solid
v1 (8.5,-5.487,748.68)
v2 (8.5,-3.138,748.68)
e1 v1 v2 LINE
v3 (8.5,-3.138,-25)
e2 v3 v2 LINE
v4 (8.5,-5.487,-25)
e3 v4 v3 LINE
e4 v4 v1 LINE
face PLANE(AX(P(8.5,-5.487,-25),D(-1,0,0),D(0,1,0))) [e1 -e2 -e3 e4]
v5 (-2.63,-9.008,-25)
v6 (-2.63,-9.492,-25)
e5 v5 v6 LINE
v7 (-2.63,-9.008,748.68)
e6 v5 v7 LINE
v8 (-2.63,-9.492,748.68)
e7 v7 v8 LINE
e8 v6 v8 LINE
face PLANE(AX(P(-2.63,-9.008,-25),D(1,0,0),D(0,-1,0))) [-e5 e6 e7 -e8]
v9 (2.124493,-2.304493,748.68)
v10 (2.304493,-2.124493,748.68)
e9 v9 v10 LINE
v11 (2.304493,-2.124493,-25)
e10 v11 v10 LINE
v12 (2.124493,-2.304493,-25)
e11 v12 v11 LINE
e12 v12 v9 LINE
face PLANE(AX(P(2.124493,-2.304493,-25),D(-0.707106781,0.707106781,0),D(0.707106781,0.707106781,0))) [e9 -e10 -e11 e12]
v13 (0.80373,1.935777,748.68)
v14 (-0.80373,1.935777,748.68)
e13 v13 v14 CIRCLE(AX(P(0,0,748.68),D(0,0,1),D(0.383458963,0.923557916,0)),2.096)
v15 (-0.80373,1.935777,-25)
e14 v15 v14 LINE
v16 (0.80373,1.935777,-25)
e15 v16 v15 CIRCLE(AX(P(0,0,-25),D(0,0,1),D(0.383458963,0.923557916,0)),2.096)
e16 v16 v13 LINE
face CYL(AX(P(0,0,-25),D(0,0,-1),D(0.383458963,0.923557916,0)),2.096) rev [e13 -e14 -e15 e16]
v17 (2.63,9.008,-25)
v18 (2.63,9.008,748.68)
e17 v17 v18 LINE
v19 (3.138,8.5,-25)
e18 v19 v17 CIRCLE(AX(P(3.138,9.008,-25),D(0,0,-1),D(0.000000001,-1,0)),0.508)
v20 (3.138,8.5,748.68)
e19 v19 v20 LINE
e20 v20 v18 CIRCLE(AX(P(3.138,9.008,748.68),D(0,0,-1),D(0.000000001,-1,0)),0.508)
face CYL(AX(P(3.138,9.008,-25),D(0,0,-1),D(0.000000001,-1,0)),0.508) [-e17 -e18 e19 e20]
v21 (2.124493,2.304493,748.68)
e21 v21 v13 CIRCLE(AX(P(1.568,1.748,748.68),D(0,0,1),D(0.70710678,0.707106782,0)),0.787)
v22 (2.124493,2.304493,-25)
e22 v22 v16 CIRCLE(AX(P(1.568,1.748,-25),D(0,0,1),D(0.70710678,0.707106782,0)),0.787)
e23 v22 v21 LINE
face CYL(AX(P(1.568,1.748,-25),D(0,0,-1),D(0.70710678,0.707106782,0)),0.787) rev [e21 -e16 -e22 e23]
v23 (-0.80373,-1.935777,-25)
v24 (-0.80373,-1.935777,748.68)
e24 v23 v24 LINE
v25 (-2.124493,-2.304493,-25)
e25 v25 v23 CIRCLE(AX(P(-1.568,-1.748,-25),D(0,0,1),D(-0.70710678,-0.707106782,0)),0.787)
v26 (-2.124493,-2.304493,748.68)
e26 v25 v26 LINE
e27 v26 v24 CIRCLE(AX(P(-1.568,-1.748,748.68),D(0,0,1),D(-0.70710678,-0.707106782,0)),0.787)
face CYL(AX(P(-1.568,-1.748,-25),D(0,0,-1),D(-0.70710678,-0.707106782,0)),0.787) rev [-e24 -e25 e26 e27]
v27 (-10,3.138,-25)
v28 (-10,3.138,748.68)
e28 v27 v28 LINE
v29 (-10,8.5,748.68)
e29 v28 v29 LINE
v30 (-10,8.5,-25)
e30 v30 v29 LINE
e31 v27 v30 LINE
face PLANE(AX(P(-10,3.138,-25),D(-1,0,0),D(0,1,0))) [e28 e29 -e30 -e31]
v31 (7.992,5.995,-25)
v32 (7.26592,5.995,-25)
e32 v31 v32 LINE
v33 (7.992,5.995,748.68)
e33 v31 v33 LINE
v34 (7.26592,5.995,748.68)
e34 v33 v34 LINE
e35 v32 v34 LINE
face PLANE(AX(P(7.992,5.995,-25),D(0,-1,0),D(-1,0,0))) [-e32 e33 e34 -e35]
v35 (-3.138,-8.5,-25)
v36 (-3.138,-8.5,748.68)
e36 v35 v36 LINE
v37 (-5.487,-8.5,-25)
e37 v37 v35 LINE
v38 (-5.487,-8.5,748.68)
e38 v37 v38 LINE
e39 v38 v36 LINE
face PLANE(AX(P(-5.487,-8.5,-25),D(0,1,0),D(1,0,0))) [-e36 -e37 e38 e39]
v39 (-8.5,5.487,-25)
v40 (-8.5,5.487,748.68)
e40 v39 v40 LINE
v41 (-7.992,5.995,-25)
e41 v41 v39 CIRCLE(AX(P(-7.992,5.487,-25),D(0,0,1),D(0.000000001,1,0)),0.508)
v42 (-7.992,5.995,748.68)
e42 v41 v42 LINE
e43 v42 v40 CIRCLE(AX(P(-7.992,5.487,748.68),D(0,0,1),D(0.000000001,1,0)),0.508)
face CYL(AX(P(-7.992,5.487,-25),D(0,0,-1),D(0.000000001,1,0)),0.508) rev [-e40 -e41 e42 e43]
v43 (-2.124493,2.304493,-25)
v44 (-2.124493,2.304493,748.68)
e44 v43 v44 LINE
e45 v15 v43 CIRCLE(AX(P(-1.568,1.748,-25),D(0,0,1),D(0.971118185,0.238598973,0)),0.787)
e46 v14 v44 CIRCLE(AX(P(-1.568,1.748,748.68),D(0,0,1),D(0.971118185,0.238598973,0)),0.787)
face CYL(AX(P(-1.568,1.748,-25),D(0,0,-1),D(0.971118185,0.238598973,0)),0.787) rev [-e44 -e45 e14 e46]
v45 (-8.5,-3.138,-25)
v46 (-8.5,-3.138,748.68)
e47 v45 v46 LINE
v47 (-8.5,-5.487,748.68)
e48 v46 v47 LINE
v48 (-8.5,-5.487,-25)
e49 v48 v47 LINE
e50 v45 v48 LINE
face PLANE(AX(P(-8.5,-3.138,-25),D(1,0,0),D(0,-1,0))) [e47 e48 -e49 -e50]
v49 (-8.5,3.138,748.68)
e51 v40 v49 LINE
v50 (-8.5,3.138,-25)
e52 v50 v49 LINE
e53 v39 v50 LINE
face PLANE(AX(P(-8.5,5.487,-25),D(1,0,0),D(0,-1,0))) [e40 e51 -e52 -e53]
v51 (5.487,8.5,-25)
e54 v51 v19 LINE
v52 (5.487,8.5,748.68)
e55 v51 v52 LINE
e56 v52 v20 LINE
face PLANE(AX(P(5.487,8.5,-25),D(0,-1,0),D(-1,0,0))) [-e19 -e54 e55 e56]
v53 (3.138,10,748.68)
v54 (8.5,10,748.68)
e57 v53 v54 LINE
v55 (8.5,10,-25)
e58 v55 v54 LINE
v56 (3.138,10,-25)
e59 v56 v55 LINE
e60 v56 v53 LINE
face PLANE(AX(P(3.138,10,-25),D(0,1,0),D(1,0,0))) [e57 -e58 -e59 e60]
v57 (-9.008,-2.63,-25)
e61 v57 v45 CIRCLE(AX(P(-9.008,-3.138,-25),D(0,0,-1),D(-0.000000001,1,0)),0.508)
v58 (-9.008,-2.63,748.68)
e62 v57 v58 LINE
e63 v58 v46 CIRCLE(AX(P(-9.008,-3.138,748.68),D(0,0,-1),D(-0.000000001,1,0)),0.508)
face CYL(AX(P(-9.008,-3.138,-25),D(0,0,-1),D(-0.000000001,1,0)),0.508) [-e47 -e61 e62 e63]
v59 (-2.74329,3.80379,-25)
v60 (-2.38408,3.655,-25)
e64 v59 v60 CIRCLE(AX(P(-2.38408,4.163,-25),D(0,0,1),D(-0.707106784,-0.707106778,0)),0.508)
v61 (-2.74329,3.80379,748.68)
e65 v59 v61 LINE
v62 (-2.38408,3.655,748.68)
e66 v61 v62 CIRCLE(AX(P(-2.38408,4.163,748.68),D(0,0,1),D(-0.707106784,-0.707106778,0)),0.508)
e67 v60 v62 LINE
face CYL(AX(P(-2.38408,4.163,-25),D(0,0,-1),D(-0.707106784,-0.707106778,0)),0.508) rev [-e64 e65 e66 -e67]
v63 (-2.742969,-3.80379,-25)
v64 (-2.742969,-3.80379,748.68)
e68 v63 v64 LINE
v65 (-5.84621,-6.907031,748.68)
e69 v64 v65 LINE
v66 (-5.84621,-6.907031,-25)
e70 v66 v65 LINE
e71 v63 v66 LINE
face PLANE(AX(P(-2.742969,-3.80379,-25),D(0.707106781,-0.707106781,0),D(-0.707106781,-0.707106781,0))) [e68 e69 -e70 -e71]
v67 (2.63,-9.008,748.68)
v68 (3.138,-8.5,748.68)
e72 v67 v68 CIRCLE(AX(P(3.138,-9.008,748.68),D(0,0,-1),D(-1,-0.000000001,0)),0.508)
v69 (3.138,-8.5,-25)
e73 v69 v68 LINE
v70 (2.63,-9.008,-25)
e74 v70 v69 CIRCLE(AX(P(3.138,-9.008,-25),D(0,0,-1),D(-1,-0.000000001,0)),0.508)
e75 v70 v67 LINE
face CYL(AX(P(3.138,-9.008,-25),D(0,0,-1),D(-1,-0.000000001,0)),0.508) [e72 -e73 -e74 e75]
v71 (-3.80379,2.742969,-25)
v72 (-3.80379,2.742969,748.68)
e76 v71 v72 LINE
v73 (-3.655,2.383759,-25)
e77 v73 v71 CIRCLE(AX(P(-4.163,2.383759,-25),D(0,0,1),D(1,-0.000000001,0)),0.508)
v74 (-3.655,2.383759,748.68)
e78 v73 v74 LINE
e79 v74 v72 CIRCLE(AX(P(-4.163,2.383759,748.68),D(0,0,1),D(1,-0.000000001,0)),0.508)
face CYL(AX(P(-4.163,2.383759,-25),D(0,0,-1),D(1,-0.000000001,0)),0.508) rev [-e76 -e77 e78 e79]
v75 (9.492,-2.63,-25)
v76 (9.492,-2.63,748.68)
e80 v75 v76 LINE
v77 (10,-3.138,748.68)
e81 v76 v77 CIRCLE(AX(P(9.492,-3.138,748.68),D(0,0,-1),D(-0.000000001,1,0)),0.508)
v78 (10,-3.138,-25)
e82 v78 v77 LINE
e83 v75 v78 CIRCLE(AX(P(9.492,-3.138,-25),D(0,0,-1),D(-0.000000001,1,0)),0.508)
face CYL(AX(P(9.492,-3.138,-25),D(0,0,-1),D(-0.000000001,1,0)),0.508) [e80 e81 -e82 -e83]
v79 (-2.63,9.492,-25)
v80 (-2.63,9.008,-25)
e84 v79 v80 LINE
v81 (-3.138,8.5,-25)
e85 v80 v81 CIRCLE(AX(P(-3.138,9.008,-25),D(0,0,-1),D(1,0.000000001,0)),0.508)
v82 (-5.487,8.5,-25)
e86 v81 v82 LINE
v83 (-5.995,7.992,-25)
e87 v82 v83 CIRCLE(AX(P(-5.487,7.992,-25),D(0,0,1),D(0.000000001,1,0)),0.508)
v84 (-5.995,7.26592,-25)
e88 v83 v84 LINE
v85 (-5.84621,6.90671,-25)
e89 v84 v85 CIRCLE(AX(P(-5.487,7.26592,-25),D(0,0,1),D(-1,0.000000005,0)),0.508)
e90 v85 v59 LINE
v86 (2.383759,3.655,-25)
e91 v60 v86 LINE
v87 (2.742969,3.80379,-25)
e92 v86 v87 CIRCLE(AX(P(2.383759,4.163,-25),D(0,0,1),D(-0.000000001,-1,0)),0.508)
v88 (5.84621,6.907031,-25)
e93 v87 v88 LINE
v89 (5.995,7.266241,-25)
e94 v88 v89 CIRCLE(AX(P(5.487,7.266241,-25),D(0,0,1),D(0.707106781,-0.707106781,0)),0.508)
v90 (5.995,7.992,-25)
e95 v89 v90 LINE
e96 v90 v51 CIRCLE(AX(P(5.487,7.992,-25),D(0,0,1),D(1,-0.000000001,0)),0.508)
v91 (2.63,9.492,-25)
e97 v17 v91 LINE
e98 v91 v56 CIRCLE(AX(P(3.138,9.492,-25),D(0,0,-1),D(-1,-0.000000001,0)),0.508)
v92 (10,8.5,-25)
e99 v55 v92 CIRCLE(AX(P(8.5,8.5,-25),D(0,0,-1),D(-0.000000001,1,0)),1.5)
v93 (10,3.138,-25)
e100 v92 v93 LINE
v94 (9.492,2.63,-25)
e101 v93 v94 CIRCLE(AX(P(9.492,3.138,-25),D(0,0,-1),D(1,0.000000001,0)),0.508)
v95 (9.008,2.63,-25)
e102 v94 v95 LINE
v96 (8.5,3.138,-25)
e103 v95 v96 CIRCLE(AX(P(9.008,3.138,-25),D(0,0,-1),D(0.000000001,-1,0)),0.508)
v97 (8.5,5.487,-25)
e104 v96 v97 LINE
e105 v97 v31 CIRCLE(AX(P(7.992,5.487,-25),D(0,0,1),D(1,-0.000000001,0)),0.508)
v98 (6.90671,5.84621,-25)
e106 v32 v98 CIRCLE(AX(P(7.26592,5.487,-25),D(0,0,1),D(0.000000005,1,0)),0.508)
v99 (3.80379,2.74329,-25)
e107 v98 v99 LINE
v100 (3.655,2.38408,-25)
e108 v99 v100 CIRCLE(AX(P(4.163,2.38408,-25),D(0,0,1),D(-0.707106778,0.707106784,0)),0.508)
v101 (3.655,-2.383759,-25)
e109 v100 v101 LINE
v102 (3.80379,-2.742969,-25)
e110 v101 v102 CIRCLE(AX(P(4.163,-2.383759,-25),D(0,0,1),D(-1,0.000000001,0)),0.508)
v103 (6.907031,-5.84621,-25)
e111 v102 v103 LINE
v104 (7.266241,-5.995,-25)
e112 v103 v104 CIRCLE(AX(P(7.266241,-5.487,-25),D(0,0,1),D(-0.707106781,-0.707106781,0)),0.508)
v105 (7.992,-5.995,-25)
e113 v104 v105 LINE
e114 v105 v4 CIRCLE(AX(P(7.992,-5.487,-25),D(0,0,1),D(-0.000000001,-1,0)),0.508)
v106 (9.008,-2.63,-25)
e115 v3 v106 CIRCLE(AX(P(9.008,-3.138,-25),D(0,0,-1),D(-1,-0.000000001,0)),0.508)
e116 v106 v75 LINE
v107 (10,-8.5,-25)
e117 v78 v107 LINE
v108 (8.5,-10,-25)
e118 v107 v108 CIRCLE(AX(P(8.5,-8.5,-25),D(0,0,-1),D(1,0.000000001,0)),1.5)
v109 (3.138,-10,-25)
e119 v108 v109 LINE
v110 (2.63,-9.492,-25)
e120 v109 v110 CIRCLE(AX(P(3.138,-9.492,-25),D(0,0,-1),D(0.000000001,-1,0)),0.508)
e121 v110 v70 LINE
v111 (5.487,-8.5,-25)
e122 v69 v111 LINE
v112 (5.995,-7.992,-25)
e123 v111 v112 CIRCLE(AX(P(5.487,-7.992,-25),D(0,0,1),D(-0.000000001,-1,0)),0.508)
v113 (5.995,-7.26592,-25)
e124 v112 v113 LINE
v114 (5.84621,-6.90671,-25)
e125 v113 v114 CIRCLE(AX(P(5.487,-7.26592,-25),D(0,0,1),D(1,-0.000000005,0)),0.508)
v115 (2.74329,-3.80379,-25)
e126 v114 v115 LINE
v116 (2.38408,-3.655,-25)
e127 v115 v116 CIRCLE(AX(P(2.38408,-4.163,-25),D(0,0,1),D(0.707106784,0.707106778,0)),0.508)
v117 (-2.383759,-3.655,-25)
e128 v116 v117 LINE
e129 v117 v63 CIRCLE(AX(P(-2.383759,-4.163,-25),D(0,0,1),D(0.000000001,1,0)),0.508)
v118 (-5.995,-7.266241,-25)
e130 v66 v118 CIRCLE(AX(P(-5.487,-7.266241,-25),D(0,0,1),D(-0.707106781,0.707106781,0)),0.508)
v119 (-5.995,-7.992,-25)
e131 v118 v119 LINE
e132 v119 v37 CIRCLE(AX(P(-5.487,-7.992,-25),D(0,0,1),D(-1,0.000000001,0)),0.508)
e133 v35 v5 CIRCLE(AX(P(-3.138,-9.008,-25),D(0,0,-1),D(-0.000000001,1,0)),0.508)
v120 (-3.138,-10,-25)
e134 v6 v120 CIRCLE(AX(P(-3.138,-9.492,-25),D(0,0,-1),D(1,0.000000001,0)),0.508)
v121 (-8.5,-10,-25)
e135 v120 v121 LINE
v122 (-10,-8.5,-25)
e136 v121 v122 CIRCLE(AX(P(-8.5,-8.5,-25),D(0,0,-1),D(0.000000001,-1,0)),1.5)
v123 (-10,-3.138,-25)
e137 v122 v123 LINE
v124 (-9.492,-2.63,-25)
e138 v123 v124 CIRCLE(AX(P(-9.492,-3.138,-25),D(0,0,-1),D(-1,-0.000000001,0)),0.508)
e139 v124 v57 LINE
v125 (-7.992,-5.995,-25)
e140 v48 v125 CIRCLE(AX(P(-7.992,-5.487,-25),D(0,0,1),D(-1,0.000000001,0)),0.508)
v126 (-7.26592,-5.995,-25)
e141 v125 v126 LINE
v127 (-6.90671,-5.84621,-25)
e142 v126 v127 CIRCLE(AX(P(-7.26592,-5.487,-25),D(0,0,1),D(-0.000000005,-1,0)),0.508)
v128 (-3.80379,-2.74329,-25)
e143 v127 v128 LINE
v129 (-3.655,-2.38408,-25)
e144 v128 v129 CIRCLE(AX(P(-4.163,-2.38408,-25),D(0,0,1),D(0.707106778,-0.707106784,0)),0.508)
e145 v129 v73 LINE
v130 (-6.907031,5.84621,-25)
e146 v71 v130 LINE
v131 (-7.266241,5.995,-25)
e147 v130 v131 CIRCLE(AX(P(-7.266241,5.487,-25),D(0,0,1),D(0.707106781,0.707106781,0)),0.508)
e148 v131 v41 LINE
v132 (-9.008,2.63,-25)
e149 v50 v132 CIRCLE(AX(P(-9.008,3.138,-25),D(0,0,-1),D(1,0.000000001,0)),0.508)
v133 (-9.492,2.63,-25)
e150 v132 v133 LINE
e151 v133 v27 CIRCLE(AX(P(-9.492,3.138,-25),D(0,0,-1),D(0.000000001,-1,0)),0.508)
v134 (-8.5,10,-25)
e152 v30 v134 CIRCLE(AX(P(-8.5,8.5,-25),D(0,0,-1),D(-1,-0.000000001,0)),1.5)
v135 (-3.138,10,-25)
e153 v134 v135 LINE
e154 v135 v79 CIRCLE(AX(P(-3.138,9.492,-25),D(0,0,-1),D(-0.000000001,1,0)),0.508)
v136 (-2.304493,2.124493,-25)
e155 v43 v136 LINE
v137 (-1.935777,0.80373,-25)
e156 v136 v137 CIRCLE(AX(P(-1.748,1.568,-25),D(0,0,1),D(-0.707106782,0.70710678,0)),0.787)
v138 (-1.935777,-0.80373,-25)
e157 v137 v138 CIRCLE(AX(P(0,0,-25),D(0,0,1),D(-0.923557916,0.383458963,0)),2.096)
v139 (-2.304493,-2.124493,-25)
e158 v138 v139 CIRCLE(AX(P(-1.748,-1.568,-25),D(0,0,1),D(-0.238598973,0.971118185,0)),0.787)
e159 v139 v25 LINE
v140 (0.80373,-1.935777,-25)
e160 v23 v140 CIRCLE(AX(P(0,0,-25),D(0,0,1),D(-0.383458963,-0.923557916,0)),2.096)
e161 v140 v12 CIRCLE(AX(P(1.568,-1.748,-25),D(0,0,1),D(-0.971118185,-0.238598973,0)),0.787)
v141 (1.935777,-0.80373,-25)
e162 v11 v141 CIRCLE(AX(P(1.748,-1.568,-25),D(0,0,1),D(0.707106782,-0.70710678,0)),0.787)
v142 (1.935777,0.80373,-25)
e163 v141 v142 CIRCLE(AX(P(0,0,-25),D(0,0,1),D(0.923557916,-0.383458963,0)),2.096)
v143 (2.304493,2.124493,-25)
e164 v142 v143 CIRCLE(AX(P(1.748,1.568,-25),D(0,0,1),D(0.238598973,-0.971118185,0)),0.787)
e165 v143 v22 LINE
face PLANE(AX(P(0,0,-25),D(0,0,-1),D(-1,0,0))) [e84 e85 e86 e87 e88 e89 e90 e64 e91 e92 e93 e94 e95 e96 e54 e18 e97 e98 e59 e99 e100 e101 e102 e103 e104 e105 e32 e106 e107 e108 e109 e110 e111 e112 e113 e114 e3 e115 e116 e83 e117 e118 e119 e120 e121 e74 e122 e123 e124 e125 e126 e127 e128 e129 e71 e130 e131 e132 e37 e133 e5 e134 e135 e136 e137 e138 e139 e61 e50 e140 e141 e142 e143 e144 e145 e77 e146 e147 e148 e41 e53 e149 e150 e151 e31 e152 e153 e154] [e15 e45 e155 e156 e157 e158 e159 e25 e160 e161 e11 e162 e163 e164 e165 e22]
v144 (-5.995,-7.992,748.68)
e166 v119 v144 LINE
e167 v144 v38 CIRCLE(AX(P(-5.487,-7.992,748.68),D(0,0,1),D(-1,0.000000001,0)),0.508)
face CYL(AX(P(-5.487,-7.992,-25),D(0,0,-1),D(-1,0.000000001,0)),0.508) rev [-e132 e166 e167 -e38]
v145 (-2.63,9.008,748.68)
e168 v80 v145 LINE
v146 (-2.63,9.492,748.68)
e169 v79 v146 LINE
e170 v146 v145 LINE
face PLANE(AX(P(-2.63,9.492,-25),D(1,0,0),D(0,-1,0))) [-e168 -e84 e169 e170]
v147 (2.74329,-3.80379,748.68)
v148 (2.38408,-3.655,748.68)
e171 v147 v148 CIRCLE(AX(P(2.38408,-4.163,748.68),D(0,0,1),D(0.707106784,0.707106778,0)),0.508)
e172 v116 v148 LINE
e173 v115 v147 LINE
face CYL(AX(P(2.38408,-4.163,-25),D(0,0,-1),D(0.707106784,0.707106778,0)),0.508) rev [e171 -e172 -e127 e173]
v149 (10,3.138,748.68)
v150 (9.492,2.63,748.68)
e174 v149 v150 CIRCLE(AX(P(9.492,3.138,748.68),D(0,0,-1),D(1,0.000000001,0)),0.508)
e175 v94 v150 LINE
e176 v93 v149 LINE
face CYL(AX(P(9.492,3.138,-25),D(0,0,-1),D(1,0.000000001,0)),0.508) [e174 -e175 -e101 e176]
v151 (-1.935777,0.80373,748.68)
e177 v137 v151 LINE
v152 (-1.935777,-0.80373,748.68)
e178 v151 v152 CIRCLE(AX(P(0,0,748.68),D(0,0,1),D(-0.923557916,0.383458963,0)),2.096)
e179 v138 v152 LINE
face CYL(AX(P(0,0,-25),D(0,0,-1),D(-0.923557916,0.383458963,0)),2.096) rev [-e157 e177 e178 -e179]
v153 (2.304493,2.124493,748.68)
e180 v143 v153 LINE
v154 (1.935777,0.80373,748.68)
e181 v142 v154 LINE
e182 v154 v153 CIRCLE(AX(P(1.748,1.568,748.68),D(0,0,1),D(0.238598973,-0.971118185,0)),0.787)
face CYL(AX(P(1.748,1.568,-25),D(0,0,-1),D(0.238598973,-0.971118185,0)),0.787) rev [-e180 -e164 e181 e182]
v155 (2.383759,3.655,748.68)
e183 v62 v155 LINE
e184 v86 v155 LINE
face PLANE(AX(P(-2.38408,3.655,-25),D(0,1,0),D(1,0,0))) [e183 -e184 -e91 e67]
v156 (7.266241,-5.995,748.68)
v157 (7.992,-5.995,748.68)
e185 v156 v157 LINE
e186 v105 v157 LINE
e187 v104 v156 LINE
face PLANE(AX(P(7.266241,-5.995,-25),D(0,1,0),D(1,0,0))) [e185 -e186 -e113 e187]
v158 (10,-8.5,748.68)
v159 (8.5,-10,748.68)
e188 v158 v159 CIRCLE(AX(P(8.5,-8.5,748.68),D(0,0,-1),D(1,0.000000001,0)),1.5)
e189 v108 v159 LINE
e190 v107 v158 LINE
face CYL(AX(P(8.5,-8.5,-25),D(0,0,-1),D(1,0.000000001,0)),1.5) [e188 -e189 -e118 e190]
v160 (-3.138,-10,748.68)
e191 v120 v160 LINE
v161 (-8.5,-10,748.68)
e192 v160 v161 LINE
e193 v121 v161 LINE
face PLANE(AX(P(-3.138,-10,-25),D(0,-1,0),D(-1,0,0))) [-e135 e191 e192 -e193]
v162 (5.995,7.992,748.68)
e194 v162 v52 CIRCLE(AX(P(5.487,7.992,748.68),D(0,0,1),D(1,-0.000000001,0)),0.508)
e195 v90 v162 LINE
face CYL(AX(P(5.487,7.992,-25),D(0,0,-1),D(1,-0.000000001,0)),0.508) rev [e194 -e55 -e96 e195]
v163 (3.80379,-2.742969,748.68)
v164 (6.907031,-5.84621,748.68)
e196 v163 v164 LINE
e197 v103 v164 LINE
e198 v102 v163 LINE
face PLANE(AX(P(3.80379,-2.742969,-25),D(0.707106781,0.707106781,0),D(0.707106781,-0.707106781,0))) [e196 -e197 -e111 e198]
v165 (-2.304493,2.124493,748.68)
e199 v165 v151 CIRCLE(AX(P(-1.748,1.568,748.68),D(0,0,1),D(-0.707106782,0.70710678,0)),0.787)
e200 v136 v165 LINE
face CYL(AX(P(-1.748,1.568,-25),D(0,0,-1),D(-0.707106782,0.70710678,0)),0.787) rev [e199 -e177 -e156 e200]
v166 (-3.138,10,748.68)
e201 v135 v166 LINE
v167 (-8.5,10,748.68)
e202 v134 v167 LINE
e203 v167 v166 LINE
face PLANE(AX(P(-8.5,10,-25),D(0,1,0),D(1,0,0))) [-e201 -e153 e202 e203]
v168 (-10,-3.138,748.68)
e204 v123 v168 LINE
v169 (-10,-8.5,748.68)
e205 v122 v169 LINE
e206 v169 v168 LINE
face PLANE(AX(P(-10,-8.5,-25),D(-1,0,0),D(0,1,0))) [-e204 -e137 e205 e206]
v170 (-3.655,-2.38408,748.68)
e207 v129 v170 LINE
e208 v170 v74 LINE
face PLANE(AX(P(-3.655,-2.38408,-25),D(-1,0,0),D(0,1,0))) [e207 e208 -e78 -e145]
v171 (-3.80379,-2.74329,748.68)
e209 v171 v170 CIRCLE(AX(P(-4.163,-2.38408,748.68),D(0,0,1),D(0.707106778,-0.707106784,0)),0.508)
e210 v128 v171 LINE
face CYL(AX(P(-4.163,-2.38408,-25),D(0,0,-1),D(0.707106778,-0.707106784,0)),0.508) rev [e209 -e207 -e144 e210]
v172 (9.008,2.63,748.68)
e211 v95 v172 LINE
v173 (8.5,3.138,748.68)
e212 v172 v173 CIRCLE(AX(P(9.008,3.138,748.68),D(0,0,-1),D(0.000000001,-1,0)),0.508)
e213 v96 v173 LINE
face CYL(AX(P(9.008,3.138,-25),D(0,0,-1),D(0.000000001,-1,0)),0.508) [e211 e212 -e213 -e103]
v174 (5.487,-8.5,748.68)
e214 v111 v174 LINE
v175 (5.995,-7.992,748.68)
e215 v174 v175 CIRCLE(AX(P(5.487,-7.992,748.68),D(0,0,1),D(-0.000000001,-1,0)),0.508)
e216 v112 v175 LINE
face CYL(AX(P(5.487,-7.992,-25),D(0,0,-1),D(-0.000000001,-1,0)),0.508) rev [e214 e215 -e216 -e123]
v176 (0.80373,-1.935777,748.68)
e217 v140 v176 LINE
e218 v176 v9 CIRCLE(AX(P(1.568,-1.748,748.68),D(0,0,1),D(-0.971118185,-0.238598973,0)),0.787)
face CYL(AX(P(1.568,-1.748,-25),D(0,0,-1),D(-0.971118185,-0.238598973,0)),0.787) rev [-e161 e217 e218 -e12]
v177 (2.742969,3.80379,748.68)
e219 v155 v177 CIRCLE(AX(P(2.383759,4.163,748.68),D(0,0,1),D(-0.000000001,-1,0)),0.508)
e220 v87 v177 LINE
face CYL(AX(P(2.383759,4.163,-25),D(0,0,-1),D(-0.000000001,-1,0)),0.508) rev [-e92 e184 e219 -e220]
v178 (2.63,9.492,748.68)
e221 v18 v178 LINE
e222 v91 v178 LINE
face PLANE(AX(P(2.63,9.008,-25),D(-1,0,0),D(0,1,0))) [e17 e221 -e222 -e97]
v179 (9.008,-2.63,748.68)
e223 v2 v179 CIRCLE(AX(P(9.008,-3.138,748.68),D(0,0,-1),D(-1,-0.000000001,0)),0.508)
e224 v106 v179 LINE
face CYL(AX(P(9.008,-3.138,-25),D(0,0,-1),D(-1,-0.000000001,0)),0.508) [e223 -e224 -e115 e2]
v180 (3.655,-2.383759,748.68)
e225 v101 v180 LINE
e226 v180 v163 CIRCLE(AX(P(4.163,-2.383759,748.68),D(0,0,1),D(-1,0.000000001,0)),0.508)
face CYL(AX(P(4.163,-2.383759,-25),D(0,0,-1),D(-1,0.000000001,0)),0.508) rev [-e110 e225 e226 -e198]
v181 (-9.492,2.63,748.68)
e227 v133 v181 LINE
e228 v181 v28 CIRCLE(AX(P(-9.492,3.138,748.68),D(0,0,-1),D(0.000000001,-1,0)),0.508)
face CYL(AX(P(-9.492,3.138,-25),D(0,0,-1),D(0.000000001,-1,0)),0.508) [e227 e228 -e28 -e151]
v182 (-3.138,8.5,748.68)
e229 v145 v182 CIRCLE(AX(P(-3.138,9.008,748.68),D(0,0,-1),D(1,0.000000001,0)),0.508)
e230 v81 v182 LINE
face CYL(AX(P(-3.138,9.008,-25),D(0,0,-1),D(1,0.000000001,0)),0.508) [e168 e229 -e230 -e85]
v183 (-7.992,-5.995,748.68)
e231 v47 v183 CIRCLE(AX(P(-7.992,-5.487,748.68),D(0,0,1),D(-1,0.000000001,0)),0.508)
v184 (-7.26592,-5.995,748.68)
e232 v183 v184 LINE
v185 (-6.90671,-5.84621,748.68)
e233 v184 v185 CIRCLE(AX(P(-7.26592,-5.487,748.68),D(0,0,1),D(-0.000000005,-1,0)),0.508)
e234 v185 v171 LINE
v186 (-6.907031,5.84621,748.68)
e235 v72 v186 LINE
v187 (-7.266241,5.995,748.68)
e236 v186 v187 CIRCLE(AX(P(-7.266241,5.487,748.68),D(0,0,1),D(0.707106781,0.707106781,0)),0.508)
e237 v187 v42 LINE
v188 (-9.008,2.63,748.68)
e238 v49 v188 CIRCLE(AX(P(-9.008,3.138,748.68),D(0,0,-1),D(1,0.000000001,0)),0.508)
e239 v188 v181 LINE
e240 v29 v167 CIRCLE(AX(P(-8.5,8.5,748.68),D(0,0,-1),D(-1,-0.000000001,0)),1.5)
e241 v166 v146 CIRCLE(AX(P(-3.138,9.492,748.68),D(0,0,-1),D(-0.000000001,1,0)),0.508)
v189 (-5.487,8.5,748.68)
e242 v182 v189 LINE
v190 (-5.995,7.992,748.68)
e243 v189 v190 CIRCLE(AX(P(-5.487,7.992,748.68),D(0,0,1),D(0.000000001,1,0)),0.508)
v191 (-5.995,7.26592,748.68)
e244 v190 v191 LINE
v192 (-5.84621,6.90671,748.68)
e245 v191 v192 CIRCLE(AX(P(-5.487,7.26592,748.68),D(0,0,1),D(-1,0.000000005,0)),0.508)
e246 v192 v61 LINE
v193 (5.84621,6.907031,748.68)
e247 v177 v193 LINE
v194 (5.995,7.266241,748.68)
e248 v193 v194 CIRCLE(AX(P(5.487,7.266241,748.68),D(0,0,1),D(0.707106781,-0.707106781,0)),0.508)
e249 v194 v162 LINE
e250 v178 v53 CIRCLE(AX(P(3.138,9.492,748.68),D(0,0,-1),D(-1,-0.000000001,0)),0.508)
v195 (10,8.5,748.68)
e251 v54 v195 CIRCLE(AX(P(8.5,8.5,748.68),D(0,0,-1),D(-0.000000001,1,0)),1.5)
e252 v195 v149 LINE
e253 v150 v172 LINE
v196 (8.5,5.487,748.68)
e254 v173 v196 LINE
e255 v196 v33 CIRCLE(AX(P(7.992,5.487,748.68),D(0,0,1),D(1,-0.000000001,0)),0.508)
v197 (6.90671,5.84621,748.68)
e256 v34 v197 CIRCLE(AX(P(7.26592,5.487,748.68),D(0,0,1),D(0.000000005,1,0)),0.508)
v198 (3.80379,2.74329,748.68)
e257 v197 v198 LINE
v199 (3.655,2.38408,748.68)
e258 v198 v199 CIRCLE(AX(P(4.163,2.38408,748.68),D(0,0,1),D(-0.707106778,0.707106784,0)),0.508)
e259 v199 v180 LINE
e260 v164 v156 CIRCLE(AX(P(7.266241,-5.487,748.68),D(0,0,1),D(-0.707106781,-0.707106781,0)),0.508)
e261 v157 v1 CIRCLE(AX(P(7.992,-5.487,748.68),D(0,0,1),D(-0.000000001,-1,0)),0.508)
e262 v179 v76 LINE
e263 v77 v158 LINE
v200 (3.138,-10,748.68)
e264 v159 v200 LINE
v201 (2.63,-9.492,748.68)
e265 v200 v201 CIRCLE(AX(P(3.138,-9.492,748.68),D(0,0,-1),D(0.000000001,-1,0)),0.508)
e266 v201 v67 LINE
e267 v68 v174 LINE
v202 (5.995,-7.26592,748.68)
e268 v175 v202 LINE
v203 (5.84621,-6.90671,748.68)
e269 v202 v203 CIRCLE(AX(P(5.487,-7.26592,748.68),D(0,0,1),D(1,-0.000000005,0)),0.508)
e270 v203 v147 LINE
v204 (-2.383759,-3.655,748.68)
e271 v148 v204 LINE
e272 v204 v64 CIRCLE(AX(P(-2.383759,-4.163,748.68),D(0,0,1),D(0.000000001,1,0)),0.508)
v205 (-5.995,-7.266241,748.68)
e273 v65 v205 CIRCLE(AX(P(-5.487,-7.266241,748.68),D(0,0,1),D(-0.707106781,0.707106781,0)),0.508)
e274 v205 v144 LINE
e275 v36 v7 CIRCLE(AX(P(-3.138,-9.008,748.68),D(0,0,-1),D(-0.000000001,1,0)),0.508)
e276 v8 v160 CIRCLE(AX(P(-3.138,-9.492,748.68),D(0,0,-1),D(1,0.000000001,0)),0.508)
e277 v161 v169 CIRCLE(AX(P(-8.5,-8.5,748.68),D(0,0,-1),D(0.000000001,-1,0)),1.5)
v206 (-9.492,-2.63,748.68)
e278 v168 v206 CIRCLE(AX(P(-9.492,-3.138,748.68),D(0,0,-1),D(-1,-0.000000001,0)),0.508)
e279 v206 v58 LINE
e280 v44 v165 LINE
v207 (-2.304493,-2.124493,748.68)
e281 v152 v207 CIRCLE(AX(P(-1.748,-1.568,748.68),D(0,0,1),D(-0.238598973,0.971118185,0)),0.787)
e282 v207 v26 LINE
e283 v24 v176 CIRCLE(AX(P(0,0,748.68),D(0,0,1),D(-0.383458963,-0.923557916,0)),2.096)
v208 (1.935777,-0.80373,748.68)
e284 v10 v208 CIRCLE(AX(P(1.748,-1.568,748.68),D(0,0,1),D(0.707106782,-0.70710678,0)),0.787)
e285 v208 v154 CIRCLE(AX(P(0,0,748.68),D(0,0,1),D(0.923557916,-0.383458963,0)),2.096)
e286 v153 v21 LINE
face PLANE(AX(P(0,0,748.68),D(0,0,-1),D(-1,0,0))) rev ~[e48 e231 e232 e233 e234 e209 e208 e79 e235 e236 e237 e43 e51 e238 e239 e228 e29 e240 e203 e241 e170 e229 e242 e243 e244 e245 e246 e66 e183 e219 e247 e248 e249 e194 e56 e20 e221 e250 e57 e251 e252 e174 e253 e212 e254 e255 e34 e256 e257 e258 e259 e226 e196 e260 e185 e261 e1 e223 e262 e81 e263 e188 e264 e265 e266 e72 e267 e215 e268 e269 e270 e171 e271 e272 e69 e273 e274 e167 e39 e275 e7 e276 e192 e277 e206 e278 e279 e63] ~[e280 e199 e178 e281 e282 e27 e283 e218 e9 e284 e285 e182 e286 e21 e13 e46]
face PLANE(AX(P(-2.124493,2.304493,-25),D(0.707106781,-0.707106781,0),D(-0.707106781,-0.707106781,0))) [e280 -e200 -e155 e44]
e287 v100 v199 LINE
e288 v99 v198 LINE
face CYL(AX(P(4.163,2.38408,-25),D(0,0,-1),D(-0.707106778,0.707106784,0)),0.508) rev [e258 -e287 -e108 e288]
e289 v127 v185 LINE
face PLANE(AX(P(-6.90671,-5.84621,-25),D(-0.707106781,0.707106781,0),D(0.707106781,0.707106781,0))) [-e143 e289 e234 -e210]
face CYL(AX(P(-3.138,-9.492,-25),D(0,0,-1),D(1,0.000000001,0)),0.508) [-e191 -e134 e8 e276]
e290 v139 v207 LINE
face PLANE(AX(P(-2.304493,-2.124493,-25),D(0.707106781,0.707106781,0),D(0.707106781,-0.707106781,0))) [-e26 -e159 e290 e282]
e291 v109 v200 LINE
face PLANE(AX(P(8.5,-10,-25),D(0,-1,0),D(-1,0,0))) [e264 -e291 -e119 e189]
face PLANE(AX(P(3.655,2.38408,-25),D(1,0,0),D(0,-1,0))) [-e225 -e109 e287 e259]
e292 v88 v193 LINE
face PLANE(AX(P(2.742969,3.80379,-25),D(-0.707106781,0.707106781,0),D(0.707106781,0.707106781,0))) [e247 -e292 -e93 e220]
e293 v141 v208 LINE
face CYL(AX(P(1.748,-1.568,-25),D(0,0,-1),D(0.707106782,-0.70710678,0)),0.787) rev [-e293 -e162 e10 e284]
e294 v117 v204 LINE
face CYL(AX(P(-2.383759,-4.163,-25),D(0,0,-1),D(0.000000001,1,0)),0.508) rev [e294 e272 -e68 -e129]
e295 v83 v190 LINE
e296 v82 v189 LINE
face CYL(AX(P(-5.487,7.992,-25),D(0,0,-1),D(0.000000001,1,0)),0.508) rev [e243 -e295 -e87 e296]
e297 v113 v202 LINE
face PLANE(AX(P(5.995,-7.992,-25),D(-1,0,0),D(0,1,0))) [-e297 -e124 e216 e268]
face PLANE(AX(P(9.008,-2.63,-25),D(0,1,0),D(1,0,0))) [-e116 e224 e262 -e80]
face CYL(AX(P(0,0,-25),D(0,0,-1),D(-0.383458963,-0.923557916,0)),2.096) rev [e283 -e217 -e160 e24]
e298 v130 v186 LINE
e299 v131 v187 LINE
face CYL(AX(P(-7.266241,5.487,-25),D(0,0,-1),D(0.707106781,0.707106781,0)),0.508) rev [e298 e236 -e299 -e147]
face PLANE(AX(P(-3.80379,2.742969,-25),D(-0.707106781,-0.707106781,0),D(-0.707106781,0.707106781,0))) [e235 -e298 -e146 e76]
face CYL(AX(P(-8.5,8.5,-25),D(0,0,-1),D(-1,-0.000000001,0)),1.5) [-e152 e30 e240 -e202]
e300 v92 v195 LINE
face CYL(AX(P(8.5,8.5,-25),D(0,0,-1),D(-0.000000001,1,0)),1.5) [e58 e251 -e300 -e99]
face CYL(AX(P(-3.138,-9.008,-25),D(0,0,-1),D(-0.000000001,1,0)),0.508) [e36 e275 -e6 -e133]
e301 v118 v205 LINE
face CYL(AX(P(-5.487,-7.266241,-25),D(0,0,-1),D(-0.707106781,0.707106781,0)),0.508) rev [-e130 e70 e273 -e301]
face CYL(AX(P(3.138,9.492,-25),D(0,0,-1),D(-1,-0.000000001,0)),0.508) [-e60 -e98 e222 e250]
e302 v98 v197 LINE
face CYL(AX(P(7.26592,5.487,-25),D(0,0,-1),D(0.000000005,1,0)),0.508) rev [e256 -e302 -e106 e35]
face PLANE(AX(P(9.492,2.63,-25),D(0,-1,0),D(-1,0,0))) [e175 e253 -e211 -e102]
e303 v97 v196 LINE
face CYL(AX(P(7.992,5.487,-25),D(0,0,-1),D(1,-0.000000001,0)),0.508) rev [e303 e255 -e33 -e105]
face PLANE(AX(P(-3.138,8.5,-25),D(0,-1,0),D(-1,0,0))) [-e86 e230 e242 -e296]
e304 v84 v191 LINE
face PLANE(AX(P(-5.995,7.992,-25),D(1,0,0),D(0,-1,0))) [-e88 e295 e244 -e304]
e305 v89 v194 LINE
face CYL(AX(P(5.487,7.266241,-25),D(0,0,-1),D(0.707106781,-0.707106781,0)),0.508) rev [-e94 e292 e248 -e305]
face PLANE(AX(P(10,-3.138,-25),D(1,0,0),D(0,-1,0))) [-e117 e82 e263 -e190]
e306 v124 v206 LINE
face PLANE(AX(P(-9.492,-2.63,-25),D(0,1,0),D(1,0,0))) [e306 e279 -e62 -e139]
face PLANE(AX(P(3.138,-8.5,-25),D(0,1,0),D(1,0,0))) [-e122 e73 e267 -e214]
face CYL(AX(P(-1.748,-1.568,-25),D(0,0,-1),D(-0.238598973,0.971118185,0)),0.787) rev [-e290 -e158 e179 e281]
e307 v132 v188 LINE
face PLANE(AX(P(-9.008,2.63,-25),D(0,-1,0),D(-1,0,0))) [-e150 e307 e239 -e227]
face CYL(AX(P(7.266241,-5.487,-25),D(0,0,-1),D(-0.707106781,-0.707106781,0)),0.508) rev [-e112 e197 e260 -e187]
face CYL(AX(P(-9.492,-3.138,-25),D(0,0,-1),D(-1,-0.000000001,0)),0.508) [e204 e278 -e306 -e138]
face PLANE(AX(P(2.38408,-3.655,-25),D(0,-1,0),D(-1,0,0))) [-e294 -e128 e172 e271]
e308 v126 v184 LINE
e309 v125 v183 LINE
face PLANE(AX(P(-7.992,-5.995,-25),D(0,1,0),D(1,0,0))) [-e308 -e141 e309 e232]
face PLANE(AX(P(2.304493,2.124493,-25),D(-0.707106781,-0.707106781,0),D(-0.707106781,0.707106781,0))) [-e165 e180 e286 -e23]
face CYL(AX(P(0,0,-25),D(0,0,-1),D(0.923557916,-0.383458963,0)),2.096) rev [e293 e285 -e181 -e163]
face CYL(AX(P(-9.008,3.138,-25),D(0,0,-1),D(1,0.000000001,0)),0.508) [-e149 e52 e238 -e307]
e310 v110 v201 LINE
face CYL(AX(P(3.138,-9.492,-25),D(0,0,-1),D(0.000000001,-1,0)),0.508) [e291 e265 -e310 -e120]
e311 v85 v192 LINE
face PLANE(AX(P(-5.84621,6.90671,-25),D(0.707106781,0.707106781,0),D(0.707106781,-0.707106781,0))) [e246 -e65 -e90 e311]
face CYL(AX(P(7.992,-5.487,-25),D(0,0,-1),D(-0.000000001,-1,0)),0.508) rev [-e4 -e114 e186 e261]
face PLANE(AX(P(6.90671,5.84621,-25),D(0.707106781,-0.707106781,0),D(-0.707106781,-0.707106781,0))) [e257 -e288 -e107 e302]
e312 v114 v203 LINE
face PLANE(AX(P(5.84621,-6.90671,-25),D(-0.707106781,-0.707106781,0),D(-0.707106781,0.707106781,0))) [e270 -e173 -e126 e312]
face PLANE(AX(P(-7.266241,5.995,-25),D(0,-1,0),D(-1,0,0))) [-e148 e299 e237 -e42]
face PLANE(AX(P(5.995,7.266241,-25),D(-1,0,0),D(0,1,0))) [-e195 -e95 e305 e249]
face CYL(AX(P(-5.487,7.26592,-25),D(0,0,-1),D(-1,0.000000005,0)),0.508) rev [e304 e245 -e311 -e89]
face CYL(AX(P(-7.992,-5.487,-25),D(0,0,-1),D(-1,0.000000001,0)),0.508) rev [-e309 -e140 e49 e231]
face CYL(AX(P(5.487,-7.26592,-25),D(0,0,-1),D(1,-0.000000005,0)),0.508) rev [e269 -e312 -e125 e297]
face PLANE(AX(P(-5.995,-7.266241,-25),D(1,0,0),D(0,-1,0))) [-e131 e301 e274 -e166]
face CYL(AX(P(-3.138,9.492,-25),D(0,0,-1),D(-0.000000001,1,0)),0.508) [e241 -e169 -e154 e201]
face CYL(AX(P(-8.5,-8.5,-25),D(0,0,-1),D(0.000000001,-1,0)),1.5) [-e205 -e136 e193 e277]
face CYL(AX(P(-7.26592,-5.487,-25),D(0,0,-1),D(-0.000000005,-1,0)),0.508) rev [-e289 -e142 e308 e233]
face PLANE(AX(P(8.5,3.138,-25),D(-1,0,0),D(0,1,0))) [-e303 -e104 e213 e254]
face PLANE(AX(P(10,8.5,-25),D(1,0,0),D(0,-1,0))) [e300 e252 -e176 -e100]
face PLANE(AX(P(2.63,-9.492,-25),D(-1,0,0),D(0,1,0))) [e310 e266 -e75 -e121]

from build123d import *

# Parameters (mm, degrees)
BOSS_EXTRUDE1_DEPTH = 773.68


with BuildPart() as part:
    # Sketch1 → Boss-Extrude1 (new body)
    with BuildSketch(Plane(origin=(0, 0, -25), x_dir=(-1, 0, 0), z_dir=(0, 0, -1))):
        with BuildLine():
            Line((10, -8.5), (10, -3.138))
            ThreePointArc((10, -3.138), (9.851210245, -2.778789755), (9.492, -2.63))
            Line((9.492, -2.63), (9.008, -2.63))
            ThreePointArc((9.008, -2.63), (8.648789755, -2.778789755), (8.5, -3.138))
            Line((8.5, -3.138), (8.5, -5.487))
            ThreePointArc((8.5, -5.487), (8.351210245, -5.846210245), (7.992, -5.995))
            Line((7.992, -5.995), (7.26592049, -5.995))
            ThreePointArc((7.26592049, -5.995), (7.071517306, -5.956330803), (6.906710245, -5.846210245))
            Line((6.906710245, -5.846210245), (3.803789755, -2.743289755))
            ThreePointArc((3.803789755, -2.743289755), (3.693669197, -2.578482694), (3.655, -2.38407951))
            Line((3.655, -2.38407951), (3.655, 2.383759167))
            ThreePointArc((3.655, 2.383759167), (3.693669197, 2.57816235), (3.803789755, 2.742969412))
            Line((3.803789755, 2.742969412), (6.907030588, 5.846210245))
            ThreePointArc((6.907030588, 5.846210245), (7.07183765, 5.956330803), (7.266240833, 5.995))
            Line((7.266240833, 5.995), (7.992, 5.995))
            ThreePointArc((7.992, 5.995), (8.351210245, 5.846210245), (8.5, 5.487))
            Line((8.5, 5.487), (8.5, 3.138))
            ThreePointArc((8.5, 3.138), (8.648789755, 2.778789755), (9.008, 2.63))
            Line((9.008, 2.63), (9.492, 2.63))
            ThreePointArc((9.492, 2.63), (9.851210245, 2.778789755), (10, 3.138))
            Line((10, 3.138), (10, 8.5))
            ThreePointArc((10, 8.5), (9.560660172, 9.560660172), (8.5, 10))
            Line((8.5, 10), (3.138, 10))
            ThreePointArc((3.138, 10), (2.778789755, 9.851210245), (2.63, 9.492))
            Line((2.63, 9.492), (2.63, 9.008))
            ThreePointArc((2.63, 9.008), (2.778789755, 8.648789755), (3.138, 8.5))
            Line((3.138, 8.5), (5.487, 8.5))
            ThreePointArc((5.487, 8.5), (5.846210245, 8.351210245), (5.995, 7.992))
            Line((5.995, 7.992), (5.995, 7.26592049))
            ThreePointArc((5.995, 7.26592049), (5.956330803, 7.071517306), (5.846210245, 6.906710245))
            Line((5.846210245, 6.906710245), (2.743289755, 3.803789755))
            ThreePointArc((2.743289755, 3.803789755), (2.578482694, 3.693669197), (2.38407951, 3.655))
            Line((2.38407951, 3.655), (-2.383759167, 3.655))
            ThreePointArc((-2.383759167, 3.655), (-2.57816235, 3.693669197), (-2.742969412, 3.803789755))
            Line((-2.742969412, 3.803789755), (-5.846210245, 6.907030588))
            ThreePointArc((-5.846210245, 6.907030588), (-5.956330803, 7.07183765), (-5.995, 7.266240833))
            Line((-5.995, 7.266240833), (-5.995, 7.992))
            ThreePointArc((-5.995, 7.992), (-5.846210245, 8.351210245), (-5.487, 8.5))
            Line((-5.487, 8.5), (-3.138, 8.5))
            ThreePointArc((-3.138, 8.5), (-2.778789755, 8.648789755), (-2.63, 9.008))
            Line((-2.63, 9.008), (-2.63, 9.492))
            ThreePointArc((-2.63, 9.492), (-2.778789755, 9.851210245), (-3.138, 10))
            Line((-3.138, 10), (-8.5, 10))
            ThreePointArc((-8.5, 10), (-9.560660172, 9.560660172), (-10, 8.5))
            Line((-10, 8.5), (-10, 3.138))
            ThreePointArc((-10, 3.138), (-9.851210245, 2.778789755), (-9.492, 2.63))
            Line((-9.492, 2.63), (-9.008, 2.63))
            ThreePointArc((-9.008, 2.63), (-8.648789755, 2.778789755), (-8.5, 3.138))
            Line((-8.5, 3.138), (-8.5, 5.487))
            ThreePointArc((-8.5, 5.487), (-8.351210245, 5.846210245), (-7.992, 5.995))
            Line((-7.992, 5.995), (-7.26592049, 5.995))
            ThreePointArc((-7.26592049, 5.995), (-7.071517306, 5.956330803), (-6.906710245, 5.846210245))
            Line((-6.906710245, 5.846210245), (-3.803789755, 2.743289755))
            ThreePointArc((-3.803789755, 2.743289755), (-3.693669197, 2.578482694), (-3.655, 2.38407951))
            Line((-3.655, 2.38407951), (-3.655, -2.383759167))
            ThreePointArc((-3.655, -2.383759167), (-3.693669197, -2.57816235), (-3.803789755, -2.742969412))
            Line((-3.803789755, -2.742969412), (-6.907030588, -5.846210245))
            ThreePointArc((-6.907030588, -5.846210245), (-7.07183765, -5.956330803), (-7.266240833, -5.995))
            Line((-7.266240833, -5.995), (-7.992, -5.995))
            ThreePointArc((-7.992, -5.995), (-8.351210245, -5.846210245), (-8.5, -5.487))
            Line((-8.5, -5.487), (-8.5, -3.138))
            ThreePointArc((-8.5, -3.138), (-8.648789755, -2.778789755), (-9.008, -2.63))
            Line((-9.008, -2.63), (-9.492, -2.63))
            ThreePointArc((-9.492, -2.63), (-9.851210245, -2.778789755), (-10, -3.138))
            Line((-10, -3.138), (-10, -8.5))
            ThreePointArc((-10, -8.5), (-9.560660172, -9.560660172), (-8.5, -10))
            Line((-8.5, -10), (-3.138, -10))
            ThreePointArc((-3.138, -10), (-2.778789755, -9.851210245), (-2.63, -9.492))
            Line((-2.63, -9.492), (-2.63, -9.008))
            ThreePointArc((-2.63, -9.008), (-2.778789755, -8.648789755), (-3.138, -8.5))
            Line((-3.138, -8.5), (-5.487, -8.5))
            ThreePointArc((-5.487, -8.5), (-5.846210245, -8.351210245), (-5.995, -7.992))
            Line((-5.995, -7.992), (-5.995, -7.26592049))
            ThreePointArc((-5.995, -7.26592049), (-5.956330803, -7.071517306), (-5.846210245, -6.906710245))
            Line((-5.846210245, -6.906710245), (-2.743289755, -3.803789755))
            ThreePointArc((-2.743289755, -3.803789755), (-2.578482694, -3.693669197), (-2.38407951, -3.655))
            Line((-2.38407951, -3.655), (2.383759167, -3.655))
            ThreePointArc((2.383759167, -3.655), (2.57816235, -3.693669197), (2.742969412, -3.803789755))
            Line((2.742969412, -3.803789755), (5.846210245, -6.907030588))
            ThreePointArc((5.846210245, -6.907030588), (5.956330803, -7.07183765), (5.995, -7.266240833))
            Line((5.995, -7.266240833), (5.995, -7.992))
            ThreePointArc((5.995, -7.992), (5.846210245, -8.351210245), (5.487, -8.5))
            Line((5.487, -8.5), (3.138, -8.5))
            ThreePointArc((3.138, -8.5), (2.778789755, -8.648789755), (2.63, -9.008))
            Line((2.63, -9.008), (2.63, -9.492))
            ThreePointArc((2.63, -9.492), (2.778789755, -9.851210245), (3.138, -10))
            Line((3.138, -10), (8.5, -10))
            ThreePointArc((8.5, -10), (9.560660172, -9.560660172), (10, -8.5))
        make_face()
        with BuildLine():
            Line((2.304493037, -2.124493037), (2.124493037, -2.304493037))
            ThreePointArc((2.124493037, -2.304493037), (1.35638567, -2.506016078), (0.803729988, -1.935777391))
            ThreePointArc((0.803729988, -1.935777391), (0, -2.096), (-0.803729988, -1.935777391))
            ThreePointArc((-0.803729988, -1.935777391), (-1.35638567, -2.506016078), (-2.124493037, -2.304493037))
            Line((-2.124493037, -2.304493037), (-2.304493037, -2.124493037))
            ThreePointArc((-2.304493037, -2.124493037), (-2.506016078, -1.35638567), (-1.935777391, -0.803729988))
            ThreePointArc((-1.935777391, -0.803729988), (-2.096, 0), (-1.935777391, 0.803729988))
            ThreePointArc((-1.935777391, 0.803729988), (-2.506016078, 1.35638567), (-2.304493037, 2.124493037))
            Line((-2.304493037, 2.124493037), (-2.124493037, 2.304493037))
            ThreePointArc((-2.124493037, 2.304493037), (-1.35638567, 2.506016078), (-0.803729988, 1.935777391))
            ThreePointArc((-0.803729988, 1.935777391), (0, 2.096), (0.803729988, 1.935777391))
            ThreePointArc((0.803729988, 1.935777391), (1.35638567, 2.506016078), (2.124493037, 2.304493037))
            Line((2.124493037, 2.304493037), (2.304493037, 2.124493037))
            ThreePointArc((2.304493037, 2.124493037), (2.506016078, 1.35638567), (1.935777391, 0.803729988))
            ThreePointArc((1.935777391, 0.803729988), (2.096, 0), (1.935777391, -0.803729988))
            ThreePointArc((1.935777391, -0.803729988), (2.506016078, -1.35638567), (2.304493037, -2.124493037))
        make_face(mode=Mode.SUBTRACT)
    extrude(amount=-BOSS_EXTRUDE1_DEPTH)


solid = part.part
